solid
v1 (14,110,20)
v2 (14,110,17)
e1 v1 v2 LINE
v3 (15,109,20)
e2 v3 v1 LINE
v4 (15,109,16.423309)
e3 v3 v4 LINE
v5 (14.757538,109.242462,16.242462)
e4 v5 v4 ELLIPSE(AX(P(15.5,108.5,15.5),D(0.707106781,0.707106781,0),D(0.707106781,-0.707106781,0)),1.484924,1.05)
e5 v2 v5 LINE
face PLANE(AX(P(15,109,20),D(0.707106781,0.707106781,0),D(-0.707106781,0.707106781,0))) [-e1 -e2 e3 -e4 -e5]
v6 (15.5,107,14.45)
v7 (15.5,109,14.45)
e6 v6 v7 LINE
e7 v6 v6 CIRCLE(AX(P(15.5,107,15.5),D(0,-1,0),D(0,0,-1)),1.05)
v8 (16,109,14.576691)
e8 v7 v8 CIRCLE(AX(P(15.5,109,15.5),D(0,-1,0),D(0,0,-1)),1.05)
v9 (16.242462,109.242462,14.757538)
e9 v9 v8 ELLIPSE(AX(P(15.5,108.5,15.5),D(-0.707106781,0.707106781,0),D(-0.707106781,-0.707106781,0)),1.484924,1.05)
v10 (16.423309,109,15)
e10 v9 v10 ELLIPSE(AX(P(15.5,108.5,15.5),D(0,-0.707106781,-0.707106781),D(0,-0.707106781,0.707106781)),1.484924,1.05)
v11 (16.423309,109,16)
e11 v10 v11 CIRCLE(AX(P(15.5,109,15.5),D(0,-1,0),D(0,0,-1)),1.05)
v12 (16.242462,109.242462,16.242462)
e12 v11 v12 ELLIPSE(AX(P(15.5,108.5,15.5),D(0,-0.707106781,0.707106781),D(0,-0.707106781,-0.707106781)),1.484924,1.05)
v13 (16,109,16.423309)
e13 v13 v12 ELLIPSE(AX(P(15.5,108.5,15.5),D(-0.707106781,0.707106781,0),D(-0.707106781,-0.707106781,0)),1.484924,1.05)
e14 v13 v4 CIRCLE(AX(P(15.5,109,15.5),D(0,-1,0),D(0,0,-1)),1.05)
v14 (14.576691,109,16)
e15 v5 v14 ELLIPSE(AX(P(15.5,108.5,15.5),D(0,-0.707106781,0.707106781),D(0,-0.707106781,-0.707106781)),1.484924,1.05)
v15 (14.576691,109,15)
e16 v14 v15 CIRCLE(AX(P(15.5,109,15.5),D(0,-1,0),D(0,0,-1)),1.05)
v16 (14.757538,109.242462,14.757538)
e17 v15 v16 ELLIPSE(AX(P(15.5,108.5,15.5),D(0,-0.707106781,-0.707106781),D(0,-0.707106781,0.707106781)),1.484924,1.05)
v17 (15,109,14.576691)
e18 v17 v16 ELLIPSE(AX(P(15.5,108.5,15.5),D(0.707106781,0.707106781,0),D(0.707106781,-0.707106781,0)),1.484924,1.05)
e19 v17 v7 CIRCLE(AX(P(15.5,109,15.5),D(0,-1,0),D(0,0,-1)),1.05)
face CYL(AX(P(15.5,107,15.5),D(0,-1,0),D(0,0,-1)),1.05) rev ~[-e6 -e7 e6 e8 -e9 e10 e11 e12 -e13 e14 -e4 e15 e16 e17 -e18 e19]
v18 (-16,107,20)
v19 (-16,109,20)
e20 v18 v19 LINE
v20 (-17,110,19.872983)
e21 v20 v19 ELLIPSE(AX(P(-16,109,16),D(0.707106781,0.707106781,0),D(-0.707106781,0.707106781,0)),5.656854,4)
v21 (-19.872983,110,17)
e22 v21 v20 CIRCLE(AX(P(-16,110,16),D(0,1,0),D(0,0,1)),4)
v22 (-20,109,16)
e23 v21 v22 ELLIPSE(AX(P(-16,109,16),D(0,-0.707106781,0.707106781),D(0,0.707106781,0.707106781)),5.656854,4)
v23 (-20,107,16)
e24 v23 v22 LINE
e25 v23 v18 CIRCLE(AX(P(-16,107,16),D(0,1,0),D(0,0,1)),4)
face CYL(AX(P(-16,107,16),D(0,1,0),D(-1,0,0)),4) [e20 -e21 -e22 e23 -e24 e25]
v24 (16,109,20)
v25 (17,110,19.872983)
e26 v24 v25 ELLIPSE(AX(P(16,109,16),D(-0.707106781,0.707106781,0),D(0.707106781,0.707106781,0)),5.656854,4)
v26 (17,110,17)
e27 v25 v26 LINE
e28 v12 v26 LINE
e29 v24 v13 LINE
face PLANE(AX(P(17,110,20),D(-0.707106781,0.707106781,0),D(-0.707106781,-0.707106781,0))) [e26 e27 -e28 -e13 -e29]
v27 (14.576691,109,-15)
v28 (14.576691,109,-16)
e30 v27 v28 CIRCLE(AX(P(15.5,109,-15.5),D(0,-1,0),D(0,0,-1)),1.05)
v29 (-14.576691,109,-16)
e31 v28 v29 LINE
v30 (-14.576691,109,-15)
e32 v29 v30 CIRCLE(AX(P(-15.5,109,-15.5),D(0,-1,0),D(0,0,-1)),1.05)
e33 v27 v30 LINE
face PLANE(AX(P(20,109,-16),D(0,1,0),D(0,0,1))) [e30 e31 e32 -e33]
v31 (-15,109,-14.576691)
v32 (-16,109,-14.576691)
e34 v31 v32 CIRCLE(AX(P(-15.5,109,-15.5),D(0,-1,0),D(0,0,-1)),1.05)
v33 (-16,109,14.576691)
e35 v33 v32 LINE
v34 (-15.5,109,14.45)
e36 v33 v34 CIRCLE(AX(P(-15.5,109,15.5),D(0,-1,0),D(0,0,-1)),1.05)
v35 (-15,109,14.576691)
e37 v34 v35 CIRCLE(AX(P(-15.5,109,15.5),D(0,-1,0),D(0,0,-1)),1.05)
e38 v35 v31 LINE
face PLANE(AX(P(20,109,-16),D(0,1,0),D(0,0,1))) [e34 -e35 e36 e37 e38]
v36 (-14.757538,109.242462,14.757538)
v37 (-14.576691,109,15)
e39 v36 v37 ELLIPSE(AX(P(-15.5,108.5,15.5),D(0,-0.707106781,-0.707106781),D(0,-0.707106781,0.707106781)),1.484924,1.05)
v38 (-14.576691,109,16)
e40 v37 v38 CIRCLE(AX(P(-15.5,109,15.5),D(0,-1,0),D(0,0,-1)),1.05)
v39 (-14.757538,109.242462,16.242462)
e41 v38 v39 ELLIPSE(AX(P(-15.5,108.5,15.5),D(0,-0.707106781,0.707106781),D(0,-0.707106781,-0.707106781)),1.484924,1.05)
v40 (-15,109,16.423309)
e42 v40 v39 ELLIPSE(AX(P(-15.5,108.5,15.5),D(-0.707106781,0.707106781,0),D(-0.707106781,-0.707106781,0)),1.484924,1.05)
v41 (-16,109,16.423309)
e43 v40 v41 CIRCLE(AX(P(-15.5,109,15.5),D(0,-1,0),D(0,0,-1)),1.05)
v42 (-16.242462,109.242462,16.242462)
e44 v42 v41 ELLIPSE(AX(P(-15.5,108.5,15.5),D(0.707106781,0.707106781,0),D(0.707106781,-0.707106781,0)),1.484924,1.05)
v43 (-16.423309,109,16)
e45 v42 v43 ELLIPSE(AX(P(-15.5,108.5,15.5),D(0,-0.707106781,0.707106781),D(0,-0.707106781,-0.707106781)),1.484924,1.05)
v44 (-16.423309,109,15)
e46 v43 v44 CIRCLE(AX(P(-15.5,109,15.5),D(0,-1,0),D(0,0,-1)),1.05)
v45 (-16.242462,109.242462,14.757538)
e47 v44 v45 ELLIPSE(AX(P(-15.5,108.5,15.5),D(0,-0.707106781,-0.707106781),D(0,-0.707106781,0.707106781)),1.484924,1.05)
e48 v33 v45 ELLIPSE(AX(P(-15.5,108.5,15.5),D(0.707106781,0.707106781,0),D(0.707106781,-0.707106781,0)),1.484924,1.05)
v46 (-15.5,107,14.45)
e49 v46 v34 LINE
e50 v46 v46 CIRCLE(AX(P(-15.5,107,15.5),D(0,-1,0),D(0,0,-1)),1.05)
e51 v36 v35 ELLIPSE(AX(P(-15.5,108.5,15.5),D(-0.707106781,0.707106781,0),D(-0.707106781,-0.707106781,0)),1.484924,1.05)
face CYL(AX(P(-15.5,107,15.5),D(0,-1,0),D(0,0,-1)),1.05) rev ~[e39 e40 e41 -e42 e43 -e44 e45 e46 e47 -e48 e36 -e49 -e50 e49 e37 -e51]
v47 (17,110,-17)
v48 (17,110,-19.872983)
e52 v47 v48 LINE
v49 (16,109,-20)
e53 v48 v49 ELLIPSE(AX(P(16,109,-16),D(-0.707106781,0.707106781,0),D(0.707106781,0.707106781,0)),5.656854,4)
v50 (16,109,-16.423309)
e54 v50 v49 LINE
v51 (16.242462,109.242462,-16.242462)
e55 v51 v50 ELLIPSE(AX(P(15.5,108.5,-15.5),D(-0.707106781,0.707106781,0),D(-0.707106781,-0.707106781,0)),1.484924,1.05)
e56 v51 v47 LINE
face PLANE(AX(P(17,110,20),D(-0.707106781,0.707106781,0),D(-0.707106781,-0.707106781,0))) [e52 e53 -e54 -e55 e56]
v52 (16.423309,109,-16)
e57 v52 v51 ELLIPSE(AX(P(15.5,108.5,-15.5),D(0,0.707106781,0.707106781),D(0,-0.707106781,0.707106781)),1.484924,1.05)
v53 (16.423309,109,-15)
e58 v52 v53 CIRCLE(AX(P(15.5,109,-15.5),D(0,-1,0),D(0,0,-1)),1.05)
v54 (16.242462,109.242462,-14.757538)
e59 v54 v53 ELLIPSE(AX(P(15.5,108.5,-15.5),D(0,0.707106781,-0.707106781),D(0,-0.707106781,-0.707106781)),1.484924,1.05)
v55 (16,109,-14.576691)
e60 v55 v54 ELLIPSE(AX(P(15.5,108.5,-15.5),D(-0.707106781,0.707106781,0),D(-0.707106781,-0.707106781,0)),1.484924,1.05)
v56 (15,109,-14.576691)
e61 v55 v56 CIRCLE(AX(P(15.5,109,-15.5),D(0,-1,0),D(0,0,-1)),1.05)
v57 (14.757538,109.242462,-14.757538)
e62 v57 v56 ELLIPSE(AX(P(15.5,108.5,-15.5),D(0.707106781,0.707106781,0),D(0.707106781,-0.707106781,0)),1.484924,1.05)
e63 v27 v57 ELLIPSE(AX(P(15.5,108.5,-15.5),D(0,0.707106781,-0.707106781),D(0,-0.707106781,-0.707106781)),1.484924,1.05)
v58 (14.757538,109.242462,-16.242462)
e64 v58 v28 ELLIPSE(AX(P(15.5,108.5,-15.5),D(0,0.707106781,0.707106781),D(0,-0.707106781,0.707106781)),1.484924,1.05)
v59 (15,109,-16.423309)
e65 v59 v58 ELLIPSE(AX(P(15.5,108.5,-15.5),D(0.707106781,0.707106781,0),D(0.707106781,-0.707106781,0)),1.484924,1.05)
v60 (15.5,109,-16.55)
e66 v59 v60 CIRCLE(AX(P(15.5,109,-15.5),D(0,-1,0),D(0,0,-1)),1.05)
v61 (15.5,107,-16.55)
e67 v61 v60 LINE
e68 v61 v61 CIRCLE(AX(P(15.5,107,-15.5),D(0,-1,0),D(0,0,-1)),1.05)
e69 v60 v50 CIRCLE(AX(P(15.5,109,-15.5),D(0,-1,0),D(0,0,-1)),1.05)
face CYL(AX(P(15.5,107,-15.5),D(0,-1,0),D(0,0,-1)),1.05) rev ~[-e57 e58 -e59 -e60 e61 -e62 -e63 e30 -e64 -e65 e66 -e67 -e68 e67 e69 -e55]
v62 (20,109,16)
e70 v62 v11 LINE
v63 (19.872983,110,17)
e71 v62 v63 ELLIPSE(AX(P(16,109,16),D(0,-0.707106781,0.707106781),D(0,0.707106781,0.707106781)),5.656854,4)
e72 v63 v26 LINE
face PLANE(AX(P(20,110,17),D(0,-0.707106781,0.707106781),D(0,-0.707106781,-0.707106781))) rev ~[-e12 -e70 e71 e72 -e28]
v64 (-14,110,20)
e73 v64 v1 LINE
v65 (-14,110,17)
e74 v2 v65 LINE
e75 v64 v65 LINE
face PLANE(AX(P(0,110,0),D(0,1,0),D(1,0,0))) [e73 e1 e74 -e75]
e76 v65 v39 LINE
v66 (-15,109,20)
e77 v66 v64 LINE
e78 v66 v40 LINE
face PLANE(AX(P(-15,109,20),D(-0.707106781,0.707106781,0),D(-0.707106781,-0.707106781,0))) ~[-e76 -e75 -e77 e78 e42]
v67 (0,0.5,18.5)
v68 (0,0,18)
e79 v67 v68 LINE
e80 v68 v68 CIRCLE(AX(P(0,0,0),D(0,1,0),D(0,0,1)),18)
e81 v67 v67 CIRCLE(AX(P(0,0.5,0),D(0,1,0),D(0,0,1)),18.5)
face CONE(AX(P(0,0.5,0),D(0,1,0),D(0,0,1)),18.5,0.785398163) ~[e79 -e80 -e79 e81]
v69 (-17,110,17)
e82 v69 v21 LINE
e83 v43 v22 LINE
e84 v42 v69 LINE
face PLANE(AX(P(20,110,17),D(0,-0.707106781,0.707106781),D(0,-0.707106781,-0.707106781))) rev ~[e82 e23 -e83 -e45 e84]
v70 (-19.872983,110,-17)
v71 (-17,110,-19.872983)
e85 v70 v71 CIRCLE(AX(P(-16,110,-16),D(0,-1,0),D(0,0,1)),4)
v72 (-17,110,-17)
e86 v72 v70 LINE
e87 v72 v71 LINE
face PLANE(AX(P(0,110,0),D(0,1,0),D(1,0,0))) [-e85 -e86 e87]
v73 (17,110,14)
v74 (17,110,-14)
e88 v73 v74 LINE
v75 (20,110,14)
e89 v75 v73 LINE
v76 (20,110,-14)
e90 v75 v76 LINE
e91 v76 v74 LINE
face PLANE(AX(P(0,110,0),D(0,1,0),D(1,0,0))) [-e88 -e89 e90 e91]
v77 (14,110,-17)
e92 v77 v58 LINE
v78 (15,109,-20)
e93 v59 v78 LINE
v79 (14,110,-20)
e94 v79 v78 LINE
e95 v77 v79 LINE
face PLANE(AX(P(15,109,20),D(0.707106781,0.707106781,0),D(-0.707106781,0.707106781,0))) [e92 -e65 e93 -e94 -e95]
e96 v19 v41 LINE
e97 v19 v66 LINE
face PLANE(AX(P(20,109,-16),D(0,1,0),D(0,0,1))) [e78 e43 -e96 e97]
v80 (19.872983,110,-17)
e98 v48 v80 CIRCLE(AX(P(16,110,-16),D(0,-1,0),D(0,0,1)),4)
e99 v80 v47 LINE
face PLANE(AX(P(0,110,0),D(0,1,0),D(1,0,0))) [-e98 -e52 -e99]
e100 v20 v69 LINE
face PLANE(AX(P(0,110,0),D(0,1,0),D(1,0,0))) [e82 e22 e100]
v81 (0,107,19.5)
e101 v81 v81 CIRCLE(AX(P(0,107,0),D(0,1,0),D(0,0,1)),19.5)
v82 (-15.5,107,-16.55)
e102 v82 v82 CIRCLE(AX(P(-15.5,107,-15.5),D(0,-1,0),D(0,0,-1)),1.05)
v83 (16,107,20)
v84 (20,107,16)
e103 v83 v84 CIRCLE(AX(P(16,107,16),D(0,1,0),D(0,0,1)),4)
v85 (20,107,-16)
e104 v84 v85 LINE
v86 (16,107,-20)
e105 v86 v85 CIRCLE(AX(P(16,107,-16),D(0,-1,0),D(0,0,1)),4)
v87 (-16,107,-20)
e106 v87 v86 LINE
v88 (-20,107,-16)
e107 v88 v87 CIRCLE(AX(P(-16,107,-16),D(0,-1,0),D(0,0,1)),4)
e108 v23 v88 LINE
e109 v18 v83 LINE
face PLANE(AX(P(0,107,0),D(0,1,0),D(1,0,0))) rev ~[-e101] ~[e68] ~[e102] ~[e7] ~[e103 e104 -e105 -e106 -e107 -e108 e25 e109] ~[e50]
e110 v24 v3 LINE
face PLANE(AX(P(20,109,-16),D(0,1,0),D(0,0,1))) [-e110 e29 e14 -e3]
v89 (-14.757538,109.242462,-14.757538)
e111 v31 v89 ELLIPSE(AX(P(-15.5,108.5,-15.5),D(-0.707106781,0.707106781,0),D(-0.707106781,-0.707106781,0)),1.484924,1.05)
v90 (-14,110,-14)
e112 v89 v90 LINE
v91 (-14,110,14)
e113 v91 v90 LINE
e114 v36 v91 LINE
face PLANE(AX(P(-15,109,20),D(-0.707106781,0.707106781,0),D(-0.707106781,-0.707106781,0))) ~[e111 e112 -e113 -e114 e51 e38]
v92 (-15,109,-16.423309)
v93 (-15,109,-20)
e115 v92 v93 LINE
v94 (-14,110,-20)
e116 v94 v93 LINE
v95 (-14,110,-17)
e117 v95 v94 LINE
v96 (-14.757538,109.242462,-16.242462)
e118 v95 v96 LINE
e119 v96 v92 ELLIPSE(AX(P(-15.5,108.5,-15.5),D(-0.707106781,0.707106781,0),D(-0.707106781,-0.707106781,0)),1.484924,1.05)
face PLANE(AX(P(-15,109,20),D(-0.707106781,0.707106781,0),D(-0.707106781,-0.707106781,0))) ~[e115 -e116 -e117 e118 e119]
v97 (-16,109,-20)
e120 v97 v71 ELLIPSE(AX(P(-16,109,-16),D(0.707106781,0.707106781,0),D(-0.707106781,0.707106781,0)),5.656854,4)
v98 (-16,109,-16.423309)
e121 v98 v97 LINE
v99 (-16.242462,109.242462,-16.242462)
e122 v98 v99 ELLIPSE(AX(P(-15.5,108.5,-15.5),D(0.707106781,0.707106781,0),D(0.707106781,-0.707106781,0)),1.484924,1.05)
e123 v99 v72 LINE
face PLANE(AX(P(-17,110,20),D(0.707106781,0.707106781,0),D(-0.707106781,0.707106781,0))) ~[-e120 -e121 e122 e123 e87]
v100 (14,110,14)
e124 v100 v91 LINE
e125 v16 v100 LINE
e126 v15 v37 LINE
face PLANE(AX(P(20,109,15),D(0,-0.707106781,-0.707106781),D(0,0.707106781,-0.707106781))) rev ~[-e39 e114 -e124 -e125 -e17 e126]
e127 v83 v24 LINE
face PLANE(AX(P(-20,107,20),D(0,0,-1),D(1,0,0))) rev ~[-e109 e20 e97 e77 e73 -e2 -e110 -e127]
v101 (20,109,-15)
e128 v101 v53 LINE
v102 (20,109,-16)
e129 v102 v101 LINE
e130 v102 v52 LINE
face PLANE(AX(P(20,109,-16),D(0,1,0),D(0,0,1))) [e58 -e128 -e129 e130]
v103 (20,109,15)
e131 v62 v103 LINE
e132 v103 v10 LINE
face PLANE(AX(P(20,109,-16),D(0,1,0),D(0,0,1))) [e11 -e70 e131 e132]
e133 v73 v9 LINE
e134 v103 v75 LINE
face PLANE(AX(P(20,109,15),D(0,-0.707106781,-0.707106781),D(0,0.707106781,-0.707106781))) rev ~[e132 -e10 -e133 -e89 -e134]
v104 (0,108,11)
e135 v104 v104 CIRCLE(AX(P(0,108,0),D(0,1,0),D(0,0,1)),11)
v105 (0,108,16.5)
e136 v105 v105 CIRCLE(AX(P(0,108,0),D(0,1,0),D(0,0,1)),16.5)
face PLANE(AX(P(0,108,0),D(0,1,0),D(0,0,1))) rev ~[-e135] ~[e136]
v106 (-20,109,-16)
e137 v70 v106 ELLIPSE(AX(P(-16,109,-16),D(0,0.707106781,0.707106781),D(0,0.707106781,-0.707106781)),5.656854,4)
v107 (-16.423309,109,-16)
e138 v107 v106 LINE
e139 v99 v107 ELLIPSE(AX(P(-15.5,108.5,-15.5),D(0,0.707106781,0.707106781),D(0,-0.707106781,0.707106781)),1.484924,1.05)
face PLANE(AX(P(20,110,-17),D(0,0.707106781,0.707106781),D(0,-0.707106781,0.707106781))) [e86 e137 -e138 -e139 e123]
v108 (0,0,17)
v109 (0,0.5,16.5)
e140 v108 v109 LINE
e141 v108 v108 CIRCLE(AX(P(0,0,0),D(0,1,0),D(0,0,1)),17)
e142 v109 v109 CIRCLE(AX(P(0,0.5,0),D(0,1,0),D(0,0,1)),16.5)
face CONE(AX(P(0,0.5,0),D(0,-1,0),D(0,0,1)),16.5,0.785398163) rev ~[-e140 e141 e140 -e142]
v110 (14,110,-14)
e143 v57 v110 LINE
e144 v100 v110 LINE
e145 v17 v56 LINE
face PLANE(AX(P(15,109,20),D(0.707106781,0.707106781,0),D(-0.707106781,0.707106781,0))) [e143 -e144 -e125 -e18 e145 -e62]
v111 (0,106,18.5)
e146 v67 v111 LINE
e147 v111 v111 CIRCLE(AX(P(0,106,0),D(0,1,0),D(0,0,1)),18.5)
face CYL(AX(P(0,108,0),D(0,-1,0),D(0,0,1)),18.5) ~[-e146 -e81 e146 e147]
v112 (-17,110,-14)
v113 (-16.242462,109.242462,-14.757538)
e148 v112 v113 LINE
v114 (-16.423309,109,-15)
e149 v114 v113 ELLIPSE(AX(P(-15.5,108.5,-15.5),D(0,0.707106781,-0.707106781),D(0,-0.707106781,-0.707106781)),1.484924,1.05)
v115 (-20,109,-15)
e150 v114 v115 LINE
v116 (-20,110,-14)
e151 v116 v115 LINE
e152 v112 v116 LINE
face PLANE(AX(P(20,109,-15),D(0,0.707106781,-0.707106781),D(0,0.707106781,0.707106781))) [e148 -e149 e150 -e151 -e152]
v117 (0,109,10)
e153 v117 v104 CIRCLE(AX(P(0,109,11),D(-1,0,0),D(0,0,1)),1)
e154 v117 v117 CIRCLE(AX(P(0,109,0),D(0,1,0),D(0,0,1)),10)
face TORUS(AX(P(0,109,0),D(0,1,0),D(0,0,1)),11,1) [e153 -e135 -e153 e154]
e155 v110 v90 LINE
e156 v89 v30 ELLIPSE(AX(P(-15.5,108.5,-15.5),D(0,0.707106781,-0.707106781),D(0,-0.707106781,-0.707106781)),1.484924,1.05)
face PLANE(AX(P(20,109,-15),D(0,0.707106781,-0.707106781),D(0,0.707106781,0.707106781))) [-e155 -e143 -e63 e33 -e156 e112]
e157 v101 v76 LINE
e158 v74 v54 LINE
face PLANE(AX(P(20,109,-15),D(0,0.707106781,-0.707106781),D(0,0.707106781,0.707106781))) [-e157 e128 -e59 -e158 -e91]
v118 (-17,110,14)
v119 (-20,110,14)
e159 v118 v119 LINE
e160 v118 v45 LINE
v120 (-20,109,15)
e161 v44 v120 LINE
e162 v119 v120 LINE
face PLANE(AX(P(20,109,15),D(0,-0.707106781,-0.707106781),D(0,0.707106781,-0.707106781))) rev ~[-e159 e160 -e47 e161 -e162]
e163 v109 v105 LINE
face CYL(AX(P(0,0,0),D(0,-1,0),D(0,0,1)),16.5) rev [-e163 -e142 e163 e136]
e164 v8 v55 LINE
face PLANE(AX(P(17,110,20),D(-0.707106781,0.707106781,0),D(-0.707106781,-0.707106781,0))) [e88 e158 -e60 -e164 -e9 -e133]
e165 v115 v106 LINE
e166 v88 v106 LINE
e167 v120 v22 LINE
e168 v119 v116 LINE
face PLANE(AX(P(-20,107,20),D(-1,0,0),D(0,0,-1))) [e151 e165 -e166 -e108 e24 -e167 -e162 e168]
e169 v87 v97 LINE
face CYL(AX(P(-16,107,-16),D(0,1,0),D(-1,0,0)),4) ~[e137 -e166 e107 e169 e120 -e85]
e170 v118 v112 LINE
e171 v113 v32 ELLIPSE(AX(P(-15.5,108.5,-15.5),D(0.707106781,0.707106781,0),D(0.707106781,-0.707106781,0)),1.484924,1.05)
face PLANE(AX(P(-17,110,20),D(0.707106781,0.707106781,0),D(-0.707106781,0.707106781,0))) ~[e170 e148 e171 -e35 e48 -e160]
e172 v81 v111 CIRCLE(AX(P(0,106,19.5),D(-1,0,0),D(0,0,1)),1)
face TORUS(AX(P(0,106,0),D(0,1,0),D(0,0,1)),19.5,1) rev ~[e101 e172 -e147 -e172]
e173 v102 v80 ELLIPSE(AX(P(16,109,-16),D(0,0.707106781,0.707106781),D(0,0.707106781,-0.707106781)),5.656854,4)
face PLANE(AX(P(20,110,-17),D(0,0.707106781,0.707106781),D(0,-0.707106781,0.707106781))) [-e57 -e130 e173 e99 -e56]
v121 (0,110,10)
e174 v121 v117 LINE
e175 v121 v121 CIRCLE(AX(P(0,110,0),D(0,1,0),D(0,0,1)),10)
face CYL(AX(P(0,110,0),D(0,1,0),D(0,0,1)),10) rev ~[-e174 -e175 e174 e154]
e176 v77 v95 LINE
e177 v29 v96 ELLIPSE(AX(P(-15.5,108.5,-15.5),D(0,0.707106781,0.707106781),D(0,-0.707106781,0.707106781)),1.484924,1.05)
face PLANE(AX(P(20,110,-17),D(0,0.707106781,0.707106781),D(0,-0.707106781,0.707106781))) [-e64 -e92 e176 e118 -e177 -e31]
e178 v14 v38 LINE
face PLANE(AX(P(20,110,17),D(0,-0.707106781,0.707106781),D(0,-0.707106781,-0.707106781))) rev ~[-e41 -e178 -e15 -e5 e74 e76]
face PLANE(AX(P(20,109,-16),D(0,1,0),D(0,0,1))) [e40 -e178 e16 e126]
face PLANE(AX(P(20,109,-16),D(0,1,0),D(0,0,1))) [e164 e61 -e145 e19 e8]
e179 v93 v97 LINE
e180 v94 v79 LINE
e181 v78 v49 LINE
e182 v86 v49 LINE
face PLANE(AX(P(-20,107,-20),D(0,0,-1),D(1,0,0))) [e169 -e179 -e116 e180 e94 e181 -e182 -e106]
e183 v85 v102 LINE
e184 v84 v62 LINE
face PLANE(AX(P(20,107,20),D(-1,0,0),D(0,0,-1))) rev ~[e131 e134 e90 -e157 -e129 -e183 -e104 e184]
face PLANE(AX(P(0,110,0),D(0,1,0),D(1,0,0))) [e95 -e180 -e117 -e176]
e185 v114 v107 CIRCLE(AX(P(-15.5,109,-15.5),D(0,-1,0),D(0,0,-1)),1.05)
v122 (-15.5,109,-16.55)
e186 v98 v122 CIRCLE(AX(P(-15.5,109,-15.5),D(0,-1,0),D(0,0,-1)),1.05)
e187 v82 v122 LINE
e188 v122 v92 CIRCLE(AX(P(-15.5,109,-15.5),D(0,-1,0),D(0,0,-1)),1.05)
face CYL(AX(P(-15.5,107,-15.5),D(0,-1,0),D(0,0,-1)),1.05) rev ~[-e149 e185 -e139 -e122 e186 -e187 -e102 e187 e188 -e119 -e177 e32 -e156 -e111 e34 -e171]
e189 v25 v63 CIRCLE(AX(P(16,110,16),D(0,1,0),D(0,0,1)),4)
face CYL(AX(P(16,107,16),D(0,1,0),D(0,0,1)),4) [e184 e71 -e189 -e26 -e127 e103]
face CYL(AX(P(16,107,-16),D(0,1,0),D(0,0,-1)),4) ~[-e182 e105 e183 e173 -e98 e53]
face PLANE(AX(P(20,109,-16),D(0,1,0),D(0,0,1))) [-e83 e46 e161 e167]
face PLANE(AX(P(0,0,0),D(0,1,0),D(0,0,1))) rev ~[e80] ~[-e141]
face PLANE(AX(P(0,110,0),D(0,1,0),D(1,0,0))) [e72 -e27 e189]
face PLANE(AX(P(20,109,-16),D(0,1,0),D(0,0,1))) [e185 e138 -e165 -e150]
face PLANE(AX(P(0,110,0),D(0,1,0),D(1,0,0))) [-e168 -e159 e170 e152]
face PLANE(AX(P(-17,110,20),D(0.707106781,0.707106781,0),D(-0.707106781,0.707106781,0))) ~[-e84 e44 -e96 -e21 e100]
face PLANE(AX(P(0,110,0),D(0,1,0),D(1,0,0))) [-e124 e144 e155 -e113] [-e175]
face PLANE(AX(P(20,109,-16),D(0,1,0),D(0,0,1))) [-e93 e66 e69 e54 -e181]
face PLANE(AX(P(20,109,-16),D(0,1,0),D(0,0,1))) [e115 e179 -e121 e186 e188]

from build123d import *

# Parameters (mm, degrees)
SKETCH1_R                = 18.5
SKETCH1_R_2              = 16.5
BOSS_EXTRUDE1_DEPTH      = 108
SKETCH2_R                = 18.5
BOSS_EXTRUDE2_DEPTH      = 2
SKETCH3_R                = 10
CUT_EXTRUDE1_DEPTH       = 114.06856327
BOSS_EXTRUDE3_START      = -3
SKETCH4_W                = 40
SKETCH4_H                = 40
SKETCH4_R                = 18.5
BOSS_EXTRUDE3_DEPTH      = 3
FILLET1_R                = 4
CUT_EXTRUDE2_DEPTH       = 119.74342087
CIRPATTERN1_COUNT        = 2
CIRPATTERN1_ANGLE        = 90
CIRPATTERN1_COPY_1_DEPTH = 119.74342087
SKETCH6_R                = 1.05
CUT_EXTRUDE3_DEPTH       = 111.675200474
FILLET2_R                = 1
CHAMFER1_SIZE            = 0.5


with BuildPart() as part:
    # Sketch1 → Boss-Extrude1 (new body)
    with BuildSketch(Plane(origin=(0, 0, 0), x_dir=(1, 0, 0), z_dir=(0, 1, 0))):
        with Locations(Location((0, 0, 0), (0, 0, 270))):
            Circle(SKETCH1_R)
        with Locations(Location((0, 0, 0), (0, 0, 270))):
            Circle(SKETCH1_R_2, mode=Mode.SUBTRACT)
    extrude(amount=BOSS_EXTRUDE1_DEPTH)

    # Sketch2 → Boss-Extrude2 (add)
    with BuildSketch(Plane(origin=(0, 108, 0), x_dir=(1, 0, 0), z_dir=(0, 1, 0))):
        with Locations(Location((0, 0, 0), (0, 0, 270))):
            Circle(SKETCH2_R)
    extrude(amount=BOSS_EXTRUDE2_DEPTH)

    # Sketch3 → Cut-Extrude1 (cut, through all)
    with BuildSketch(Plane(origin=(0, 110, 0), x_dir=(1, 0, 0), z_dir=(0, 1, 0))):
        with Locations(Location((0, 0, 0), (0, 0, 270))):
            Circle(SKETCH3_R)
    extrude(amount=-CUT_EXTRUDE1_DEPTH, mode=Mode.SUBTRACT)

    # Sketch4 → Boss-Extrude3 (add)
    with BuildSketch(Plane(origin=(0, 110, 0), x_dir=(1, 0, 0), z_dir=(0, 1, 0)).offset(BOSS_EXTRUDE3_START)):
        Rectangle(SKETCH4_W, SKETCH4_H)
        with Locations(Location((0, 0, 0), (0, 0, 270))):
            Circle(SKETCH4_R, mode=Mode.SUBTRACT)
    extrude(amount=BOSS_EXTRUDE3_DEPTH)

    # Fillet1
    fillet1_edges = [part.edges().sort_by_distance(p)[0] for p in [
        (-20, 108.5, 20),
        (-20, 108.5, -20),
        (20, 108.5, -20),
        (20, 108.5, 20),
    ]]
    fillet(fillet1_edges, radius=FILLET1_R)

    # Sketch5 → Cut-Extrude2 (cut, through all)
    with BuildSketch(Plane.XY.offset(20)):
        Polygon((14, 110), (17, 110), (16, 109), (15, 109), align=None)
    cut_extrude2 = extrude(amount=-CUT_EXTRUDE2_DEPTH, mode=Mode.SUBTRACT)

    # Mirror1: Cut-Extrude2 across plane
    add(cut_extrude2.mirror(Plane(origin=(0, 0, 0), x_dir=(0, 0, 1), z_dir=(1, 0, 0))), mode=Mode.SUBTRACT)

    # CirPattern1: Cut-Extrude2 ×2 about axis
    cirpattern1_axis = Axis((0, 0, 0), (0, 1, 0))
    for i in range(1, CIRPATTERN1_COUNT):
        add(cut_extrude2.rotate(cirpattern1_axis, i * CIRPATTERN1_ANGLE / (CIRPATTERN1_COUNT - 1)), mode=Mode.SUBTRACT)

    # CirPattern1 copy 1 sketch → CirPattern1 copy 1 (cut, through all)
    with BuildSketch(Plane(origin=(20, 0, 0), x_dir=(0, 0, 1), z_dir=(1, 0, 0))):
        Polygon((14, -110), (17, -110), (16, -109), (15, -109), align=None)
    extrude(amount=-CIRPATTERN1_COPY_1_DEPTH, mode=Mode.SUBTRACT)

    # Sketch6 → Cut-Extrude3 (cut, through all)
    with BuildSketch(Plane.XZ.offset(-107)):
        with Locations(Location((15.5, 15.5, 0), (0, 0, 270))):
            Circle(SKETCH6_R)
        with Locations(Location((-15.5, 15.5, 0), (0, 0, 270))):
            Circle(SKETCH6_R)
        with Locations(Location((-15.5, -15.5, 0), (0, 0, 270))):
            Circle(SKETCH6_R)
        with Locations(Location((15.5, -15.5, 0), (0, 0, 270))):
            Circle(SKETCH6_R)
    extrude(amount=-CUT_EXTRUDE3_DEPTH, mode=Mode.SUBTRACT)

    # Fillet2
    fillet2_edges = [part.edges().sort_by_distance(p)[0] for p in [
        (0, 108, -10),
        (0, 107, -18.5),
    ]]
    fillet(fillet2_edges, radius=FILLET2_R)

    # Chamfer1
    chamfer1_edges = [part.edges().sort_by_distance(p)[0] for p in [
        (0, 0, -18.5),
        (0, 0, -16.5),
    ]]
    chamfer(chamfer1_edges, length=CHAMFER1_SIZE)


solid = part.part
